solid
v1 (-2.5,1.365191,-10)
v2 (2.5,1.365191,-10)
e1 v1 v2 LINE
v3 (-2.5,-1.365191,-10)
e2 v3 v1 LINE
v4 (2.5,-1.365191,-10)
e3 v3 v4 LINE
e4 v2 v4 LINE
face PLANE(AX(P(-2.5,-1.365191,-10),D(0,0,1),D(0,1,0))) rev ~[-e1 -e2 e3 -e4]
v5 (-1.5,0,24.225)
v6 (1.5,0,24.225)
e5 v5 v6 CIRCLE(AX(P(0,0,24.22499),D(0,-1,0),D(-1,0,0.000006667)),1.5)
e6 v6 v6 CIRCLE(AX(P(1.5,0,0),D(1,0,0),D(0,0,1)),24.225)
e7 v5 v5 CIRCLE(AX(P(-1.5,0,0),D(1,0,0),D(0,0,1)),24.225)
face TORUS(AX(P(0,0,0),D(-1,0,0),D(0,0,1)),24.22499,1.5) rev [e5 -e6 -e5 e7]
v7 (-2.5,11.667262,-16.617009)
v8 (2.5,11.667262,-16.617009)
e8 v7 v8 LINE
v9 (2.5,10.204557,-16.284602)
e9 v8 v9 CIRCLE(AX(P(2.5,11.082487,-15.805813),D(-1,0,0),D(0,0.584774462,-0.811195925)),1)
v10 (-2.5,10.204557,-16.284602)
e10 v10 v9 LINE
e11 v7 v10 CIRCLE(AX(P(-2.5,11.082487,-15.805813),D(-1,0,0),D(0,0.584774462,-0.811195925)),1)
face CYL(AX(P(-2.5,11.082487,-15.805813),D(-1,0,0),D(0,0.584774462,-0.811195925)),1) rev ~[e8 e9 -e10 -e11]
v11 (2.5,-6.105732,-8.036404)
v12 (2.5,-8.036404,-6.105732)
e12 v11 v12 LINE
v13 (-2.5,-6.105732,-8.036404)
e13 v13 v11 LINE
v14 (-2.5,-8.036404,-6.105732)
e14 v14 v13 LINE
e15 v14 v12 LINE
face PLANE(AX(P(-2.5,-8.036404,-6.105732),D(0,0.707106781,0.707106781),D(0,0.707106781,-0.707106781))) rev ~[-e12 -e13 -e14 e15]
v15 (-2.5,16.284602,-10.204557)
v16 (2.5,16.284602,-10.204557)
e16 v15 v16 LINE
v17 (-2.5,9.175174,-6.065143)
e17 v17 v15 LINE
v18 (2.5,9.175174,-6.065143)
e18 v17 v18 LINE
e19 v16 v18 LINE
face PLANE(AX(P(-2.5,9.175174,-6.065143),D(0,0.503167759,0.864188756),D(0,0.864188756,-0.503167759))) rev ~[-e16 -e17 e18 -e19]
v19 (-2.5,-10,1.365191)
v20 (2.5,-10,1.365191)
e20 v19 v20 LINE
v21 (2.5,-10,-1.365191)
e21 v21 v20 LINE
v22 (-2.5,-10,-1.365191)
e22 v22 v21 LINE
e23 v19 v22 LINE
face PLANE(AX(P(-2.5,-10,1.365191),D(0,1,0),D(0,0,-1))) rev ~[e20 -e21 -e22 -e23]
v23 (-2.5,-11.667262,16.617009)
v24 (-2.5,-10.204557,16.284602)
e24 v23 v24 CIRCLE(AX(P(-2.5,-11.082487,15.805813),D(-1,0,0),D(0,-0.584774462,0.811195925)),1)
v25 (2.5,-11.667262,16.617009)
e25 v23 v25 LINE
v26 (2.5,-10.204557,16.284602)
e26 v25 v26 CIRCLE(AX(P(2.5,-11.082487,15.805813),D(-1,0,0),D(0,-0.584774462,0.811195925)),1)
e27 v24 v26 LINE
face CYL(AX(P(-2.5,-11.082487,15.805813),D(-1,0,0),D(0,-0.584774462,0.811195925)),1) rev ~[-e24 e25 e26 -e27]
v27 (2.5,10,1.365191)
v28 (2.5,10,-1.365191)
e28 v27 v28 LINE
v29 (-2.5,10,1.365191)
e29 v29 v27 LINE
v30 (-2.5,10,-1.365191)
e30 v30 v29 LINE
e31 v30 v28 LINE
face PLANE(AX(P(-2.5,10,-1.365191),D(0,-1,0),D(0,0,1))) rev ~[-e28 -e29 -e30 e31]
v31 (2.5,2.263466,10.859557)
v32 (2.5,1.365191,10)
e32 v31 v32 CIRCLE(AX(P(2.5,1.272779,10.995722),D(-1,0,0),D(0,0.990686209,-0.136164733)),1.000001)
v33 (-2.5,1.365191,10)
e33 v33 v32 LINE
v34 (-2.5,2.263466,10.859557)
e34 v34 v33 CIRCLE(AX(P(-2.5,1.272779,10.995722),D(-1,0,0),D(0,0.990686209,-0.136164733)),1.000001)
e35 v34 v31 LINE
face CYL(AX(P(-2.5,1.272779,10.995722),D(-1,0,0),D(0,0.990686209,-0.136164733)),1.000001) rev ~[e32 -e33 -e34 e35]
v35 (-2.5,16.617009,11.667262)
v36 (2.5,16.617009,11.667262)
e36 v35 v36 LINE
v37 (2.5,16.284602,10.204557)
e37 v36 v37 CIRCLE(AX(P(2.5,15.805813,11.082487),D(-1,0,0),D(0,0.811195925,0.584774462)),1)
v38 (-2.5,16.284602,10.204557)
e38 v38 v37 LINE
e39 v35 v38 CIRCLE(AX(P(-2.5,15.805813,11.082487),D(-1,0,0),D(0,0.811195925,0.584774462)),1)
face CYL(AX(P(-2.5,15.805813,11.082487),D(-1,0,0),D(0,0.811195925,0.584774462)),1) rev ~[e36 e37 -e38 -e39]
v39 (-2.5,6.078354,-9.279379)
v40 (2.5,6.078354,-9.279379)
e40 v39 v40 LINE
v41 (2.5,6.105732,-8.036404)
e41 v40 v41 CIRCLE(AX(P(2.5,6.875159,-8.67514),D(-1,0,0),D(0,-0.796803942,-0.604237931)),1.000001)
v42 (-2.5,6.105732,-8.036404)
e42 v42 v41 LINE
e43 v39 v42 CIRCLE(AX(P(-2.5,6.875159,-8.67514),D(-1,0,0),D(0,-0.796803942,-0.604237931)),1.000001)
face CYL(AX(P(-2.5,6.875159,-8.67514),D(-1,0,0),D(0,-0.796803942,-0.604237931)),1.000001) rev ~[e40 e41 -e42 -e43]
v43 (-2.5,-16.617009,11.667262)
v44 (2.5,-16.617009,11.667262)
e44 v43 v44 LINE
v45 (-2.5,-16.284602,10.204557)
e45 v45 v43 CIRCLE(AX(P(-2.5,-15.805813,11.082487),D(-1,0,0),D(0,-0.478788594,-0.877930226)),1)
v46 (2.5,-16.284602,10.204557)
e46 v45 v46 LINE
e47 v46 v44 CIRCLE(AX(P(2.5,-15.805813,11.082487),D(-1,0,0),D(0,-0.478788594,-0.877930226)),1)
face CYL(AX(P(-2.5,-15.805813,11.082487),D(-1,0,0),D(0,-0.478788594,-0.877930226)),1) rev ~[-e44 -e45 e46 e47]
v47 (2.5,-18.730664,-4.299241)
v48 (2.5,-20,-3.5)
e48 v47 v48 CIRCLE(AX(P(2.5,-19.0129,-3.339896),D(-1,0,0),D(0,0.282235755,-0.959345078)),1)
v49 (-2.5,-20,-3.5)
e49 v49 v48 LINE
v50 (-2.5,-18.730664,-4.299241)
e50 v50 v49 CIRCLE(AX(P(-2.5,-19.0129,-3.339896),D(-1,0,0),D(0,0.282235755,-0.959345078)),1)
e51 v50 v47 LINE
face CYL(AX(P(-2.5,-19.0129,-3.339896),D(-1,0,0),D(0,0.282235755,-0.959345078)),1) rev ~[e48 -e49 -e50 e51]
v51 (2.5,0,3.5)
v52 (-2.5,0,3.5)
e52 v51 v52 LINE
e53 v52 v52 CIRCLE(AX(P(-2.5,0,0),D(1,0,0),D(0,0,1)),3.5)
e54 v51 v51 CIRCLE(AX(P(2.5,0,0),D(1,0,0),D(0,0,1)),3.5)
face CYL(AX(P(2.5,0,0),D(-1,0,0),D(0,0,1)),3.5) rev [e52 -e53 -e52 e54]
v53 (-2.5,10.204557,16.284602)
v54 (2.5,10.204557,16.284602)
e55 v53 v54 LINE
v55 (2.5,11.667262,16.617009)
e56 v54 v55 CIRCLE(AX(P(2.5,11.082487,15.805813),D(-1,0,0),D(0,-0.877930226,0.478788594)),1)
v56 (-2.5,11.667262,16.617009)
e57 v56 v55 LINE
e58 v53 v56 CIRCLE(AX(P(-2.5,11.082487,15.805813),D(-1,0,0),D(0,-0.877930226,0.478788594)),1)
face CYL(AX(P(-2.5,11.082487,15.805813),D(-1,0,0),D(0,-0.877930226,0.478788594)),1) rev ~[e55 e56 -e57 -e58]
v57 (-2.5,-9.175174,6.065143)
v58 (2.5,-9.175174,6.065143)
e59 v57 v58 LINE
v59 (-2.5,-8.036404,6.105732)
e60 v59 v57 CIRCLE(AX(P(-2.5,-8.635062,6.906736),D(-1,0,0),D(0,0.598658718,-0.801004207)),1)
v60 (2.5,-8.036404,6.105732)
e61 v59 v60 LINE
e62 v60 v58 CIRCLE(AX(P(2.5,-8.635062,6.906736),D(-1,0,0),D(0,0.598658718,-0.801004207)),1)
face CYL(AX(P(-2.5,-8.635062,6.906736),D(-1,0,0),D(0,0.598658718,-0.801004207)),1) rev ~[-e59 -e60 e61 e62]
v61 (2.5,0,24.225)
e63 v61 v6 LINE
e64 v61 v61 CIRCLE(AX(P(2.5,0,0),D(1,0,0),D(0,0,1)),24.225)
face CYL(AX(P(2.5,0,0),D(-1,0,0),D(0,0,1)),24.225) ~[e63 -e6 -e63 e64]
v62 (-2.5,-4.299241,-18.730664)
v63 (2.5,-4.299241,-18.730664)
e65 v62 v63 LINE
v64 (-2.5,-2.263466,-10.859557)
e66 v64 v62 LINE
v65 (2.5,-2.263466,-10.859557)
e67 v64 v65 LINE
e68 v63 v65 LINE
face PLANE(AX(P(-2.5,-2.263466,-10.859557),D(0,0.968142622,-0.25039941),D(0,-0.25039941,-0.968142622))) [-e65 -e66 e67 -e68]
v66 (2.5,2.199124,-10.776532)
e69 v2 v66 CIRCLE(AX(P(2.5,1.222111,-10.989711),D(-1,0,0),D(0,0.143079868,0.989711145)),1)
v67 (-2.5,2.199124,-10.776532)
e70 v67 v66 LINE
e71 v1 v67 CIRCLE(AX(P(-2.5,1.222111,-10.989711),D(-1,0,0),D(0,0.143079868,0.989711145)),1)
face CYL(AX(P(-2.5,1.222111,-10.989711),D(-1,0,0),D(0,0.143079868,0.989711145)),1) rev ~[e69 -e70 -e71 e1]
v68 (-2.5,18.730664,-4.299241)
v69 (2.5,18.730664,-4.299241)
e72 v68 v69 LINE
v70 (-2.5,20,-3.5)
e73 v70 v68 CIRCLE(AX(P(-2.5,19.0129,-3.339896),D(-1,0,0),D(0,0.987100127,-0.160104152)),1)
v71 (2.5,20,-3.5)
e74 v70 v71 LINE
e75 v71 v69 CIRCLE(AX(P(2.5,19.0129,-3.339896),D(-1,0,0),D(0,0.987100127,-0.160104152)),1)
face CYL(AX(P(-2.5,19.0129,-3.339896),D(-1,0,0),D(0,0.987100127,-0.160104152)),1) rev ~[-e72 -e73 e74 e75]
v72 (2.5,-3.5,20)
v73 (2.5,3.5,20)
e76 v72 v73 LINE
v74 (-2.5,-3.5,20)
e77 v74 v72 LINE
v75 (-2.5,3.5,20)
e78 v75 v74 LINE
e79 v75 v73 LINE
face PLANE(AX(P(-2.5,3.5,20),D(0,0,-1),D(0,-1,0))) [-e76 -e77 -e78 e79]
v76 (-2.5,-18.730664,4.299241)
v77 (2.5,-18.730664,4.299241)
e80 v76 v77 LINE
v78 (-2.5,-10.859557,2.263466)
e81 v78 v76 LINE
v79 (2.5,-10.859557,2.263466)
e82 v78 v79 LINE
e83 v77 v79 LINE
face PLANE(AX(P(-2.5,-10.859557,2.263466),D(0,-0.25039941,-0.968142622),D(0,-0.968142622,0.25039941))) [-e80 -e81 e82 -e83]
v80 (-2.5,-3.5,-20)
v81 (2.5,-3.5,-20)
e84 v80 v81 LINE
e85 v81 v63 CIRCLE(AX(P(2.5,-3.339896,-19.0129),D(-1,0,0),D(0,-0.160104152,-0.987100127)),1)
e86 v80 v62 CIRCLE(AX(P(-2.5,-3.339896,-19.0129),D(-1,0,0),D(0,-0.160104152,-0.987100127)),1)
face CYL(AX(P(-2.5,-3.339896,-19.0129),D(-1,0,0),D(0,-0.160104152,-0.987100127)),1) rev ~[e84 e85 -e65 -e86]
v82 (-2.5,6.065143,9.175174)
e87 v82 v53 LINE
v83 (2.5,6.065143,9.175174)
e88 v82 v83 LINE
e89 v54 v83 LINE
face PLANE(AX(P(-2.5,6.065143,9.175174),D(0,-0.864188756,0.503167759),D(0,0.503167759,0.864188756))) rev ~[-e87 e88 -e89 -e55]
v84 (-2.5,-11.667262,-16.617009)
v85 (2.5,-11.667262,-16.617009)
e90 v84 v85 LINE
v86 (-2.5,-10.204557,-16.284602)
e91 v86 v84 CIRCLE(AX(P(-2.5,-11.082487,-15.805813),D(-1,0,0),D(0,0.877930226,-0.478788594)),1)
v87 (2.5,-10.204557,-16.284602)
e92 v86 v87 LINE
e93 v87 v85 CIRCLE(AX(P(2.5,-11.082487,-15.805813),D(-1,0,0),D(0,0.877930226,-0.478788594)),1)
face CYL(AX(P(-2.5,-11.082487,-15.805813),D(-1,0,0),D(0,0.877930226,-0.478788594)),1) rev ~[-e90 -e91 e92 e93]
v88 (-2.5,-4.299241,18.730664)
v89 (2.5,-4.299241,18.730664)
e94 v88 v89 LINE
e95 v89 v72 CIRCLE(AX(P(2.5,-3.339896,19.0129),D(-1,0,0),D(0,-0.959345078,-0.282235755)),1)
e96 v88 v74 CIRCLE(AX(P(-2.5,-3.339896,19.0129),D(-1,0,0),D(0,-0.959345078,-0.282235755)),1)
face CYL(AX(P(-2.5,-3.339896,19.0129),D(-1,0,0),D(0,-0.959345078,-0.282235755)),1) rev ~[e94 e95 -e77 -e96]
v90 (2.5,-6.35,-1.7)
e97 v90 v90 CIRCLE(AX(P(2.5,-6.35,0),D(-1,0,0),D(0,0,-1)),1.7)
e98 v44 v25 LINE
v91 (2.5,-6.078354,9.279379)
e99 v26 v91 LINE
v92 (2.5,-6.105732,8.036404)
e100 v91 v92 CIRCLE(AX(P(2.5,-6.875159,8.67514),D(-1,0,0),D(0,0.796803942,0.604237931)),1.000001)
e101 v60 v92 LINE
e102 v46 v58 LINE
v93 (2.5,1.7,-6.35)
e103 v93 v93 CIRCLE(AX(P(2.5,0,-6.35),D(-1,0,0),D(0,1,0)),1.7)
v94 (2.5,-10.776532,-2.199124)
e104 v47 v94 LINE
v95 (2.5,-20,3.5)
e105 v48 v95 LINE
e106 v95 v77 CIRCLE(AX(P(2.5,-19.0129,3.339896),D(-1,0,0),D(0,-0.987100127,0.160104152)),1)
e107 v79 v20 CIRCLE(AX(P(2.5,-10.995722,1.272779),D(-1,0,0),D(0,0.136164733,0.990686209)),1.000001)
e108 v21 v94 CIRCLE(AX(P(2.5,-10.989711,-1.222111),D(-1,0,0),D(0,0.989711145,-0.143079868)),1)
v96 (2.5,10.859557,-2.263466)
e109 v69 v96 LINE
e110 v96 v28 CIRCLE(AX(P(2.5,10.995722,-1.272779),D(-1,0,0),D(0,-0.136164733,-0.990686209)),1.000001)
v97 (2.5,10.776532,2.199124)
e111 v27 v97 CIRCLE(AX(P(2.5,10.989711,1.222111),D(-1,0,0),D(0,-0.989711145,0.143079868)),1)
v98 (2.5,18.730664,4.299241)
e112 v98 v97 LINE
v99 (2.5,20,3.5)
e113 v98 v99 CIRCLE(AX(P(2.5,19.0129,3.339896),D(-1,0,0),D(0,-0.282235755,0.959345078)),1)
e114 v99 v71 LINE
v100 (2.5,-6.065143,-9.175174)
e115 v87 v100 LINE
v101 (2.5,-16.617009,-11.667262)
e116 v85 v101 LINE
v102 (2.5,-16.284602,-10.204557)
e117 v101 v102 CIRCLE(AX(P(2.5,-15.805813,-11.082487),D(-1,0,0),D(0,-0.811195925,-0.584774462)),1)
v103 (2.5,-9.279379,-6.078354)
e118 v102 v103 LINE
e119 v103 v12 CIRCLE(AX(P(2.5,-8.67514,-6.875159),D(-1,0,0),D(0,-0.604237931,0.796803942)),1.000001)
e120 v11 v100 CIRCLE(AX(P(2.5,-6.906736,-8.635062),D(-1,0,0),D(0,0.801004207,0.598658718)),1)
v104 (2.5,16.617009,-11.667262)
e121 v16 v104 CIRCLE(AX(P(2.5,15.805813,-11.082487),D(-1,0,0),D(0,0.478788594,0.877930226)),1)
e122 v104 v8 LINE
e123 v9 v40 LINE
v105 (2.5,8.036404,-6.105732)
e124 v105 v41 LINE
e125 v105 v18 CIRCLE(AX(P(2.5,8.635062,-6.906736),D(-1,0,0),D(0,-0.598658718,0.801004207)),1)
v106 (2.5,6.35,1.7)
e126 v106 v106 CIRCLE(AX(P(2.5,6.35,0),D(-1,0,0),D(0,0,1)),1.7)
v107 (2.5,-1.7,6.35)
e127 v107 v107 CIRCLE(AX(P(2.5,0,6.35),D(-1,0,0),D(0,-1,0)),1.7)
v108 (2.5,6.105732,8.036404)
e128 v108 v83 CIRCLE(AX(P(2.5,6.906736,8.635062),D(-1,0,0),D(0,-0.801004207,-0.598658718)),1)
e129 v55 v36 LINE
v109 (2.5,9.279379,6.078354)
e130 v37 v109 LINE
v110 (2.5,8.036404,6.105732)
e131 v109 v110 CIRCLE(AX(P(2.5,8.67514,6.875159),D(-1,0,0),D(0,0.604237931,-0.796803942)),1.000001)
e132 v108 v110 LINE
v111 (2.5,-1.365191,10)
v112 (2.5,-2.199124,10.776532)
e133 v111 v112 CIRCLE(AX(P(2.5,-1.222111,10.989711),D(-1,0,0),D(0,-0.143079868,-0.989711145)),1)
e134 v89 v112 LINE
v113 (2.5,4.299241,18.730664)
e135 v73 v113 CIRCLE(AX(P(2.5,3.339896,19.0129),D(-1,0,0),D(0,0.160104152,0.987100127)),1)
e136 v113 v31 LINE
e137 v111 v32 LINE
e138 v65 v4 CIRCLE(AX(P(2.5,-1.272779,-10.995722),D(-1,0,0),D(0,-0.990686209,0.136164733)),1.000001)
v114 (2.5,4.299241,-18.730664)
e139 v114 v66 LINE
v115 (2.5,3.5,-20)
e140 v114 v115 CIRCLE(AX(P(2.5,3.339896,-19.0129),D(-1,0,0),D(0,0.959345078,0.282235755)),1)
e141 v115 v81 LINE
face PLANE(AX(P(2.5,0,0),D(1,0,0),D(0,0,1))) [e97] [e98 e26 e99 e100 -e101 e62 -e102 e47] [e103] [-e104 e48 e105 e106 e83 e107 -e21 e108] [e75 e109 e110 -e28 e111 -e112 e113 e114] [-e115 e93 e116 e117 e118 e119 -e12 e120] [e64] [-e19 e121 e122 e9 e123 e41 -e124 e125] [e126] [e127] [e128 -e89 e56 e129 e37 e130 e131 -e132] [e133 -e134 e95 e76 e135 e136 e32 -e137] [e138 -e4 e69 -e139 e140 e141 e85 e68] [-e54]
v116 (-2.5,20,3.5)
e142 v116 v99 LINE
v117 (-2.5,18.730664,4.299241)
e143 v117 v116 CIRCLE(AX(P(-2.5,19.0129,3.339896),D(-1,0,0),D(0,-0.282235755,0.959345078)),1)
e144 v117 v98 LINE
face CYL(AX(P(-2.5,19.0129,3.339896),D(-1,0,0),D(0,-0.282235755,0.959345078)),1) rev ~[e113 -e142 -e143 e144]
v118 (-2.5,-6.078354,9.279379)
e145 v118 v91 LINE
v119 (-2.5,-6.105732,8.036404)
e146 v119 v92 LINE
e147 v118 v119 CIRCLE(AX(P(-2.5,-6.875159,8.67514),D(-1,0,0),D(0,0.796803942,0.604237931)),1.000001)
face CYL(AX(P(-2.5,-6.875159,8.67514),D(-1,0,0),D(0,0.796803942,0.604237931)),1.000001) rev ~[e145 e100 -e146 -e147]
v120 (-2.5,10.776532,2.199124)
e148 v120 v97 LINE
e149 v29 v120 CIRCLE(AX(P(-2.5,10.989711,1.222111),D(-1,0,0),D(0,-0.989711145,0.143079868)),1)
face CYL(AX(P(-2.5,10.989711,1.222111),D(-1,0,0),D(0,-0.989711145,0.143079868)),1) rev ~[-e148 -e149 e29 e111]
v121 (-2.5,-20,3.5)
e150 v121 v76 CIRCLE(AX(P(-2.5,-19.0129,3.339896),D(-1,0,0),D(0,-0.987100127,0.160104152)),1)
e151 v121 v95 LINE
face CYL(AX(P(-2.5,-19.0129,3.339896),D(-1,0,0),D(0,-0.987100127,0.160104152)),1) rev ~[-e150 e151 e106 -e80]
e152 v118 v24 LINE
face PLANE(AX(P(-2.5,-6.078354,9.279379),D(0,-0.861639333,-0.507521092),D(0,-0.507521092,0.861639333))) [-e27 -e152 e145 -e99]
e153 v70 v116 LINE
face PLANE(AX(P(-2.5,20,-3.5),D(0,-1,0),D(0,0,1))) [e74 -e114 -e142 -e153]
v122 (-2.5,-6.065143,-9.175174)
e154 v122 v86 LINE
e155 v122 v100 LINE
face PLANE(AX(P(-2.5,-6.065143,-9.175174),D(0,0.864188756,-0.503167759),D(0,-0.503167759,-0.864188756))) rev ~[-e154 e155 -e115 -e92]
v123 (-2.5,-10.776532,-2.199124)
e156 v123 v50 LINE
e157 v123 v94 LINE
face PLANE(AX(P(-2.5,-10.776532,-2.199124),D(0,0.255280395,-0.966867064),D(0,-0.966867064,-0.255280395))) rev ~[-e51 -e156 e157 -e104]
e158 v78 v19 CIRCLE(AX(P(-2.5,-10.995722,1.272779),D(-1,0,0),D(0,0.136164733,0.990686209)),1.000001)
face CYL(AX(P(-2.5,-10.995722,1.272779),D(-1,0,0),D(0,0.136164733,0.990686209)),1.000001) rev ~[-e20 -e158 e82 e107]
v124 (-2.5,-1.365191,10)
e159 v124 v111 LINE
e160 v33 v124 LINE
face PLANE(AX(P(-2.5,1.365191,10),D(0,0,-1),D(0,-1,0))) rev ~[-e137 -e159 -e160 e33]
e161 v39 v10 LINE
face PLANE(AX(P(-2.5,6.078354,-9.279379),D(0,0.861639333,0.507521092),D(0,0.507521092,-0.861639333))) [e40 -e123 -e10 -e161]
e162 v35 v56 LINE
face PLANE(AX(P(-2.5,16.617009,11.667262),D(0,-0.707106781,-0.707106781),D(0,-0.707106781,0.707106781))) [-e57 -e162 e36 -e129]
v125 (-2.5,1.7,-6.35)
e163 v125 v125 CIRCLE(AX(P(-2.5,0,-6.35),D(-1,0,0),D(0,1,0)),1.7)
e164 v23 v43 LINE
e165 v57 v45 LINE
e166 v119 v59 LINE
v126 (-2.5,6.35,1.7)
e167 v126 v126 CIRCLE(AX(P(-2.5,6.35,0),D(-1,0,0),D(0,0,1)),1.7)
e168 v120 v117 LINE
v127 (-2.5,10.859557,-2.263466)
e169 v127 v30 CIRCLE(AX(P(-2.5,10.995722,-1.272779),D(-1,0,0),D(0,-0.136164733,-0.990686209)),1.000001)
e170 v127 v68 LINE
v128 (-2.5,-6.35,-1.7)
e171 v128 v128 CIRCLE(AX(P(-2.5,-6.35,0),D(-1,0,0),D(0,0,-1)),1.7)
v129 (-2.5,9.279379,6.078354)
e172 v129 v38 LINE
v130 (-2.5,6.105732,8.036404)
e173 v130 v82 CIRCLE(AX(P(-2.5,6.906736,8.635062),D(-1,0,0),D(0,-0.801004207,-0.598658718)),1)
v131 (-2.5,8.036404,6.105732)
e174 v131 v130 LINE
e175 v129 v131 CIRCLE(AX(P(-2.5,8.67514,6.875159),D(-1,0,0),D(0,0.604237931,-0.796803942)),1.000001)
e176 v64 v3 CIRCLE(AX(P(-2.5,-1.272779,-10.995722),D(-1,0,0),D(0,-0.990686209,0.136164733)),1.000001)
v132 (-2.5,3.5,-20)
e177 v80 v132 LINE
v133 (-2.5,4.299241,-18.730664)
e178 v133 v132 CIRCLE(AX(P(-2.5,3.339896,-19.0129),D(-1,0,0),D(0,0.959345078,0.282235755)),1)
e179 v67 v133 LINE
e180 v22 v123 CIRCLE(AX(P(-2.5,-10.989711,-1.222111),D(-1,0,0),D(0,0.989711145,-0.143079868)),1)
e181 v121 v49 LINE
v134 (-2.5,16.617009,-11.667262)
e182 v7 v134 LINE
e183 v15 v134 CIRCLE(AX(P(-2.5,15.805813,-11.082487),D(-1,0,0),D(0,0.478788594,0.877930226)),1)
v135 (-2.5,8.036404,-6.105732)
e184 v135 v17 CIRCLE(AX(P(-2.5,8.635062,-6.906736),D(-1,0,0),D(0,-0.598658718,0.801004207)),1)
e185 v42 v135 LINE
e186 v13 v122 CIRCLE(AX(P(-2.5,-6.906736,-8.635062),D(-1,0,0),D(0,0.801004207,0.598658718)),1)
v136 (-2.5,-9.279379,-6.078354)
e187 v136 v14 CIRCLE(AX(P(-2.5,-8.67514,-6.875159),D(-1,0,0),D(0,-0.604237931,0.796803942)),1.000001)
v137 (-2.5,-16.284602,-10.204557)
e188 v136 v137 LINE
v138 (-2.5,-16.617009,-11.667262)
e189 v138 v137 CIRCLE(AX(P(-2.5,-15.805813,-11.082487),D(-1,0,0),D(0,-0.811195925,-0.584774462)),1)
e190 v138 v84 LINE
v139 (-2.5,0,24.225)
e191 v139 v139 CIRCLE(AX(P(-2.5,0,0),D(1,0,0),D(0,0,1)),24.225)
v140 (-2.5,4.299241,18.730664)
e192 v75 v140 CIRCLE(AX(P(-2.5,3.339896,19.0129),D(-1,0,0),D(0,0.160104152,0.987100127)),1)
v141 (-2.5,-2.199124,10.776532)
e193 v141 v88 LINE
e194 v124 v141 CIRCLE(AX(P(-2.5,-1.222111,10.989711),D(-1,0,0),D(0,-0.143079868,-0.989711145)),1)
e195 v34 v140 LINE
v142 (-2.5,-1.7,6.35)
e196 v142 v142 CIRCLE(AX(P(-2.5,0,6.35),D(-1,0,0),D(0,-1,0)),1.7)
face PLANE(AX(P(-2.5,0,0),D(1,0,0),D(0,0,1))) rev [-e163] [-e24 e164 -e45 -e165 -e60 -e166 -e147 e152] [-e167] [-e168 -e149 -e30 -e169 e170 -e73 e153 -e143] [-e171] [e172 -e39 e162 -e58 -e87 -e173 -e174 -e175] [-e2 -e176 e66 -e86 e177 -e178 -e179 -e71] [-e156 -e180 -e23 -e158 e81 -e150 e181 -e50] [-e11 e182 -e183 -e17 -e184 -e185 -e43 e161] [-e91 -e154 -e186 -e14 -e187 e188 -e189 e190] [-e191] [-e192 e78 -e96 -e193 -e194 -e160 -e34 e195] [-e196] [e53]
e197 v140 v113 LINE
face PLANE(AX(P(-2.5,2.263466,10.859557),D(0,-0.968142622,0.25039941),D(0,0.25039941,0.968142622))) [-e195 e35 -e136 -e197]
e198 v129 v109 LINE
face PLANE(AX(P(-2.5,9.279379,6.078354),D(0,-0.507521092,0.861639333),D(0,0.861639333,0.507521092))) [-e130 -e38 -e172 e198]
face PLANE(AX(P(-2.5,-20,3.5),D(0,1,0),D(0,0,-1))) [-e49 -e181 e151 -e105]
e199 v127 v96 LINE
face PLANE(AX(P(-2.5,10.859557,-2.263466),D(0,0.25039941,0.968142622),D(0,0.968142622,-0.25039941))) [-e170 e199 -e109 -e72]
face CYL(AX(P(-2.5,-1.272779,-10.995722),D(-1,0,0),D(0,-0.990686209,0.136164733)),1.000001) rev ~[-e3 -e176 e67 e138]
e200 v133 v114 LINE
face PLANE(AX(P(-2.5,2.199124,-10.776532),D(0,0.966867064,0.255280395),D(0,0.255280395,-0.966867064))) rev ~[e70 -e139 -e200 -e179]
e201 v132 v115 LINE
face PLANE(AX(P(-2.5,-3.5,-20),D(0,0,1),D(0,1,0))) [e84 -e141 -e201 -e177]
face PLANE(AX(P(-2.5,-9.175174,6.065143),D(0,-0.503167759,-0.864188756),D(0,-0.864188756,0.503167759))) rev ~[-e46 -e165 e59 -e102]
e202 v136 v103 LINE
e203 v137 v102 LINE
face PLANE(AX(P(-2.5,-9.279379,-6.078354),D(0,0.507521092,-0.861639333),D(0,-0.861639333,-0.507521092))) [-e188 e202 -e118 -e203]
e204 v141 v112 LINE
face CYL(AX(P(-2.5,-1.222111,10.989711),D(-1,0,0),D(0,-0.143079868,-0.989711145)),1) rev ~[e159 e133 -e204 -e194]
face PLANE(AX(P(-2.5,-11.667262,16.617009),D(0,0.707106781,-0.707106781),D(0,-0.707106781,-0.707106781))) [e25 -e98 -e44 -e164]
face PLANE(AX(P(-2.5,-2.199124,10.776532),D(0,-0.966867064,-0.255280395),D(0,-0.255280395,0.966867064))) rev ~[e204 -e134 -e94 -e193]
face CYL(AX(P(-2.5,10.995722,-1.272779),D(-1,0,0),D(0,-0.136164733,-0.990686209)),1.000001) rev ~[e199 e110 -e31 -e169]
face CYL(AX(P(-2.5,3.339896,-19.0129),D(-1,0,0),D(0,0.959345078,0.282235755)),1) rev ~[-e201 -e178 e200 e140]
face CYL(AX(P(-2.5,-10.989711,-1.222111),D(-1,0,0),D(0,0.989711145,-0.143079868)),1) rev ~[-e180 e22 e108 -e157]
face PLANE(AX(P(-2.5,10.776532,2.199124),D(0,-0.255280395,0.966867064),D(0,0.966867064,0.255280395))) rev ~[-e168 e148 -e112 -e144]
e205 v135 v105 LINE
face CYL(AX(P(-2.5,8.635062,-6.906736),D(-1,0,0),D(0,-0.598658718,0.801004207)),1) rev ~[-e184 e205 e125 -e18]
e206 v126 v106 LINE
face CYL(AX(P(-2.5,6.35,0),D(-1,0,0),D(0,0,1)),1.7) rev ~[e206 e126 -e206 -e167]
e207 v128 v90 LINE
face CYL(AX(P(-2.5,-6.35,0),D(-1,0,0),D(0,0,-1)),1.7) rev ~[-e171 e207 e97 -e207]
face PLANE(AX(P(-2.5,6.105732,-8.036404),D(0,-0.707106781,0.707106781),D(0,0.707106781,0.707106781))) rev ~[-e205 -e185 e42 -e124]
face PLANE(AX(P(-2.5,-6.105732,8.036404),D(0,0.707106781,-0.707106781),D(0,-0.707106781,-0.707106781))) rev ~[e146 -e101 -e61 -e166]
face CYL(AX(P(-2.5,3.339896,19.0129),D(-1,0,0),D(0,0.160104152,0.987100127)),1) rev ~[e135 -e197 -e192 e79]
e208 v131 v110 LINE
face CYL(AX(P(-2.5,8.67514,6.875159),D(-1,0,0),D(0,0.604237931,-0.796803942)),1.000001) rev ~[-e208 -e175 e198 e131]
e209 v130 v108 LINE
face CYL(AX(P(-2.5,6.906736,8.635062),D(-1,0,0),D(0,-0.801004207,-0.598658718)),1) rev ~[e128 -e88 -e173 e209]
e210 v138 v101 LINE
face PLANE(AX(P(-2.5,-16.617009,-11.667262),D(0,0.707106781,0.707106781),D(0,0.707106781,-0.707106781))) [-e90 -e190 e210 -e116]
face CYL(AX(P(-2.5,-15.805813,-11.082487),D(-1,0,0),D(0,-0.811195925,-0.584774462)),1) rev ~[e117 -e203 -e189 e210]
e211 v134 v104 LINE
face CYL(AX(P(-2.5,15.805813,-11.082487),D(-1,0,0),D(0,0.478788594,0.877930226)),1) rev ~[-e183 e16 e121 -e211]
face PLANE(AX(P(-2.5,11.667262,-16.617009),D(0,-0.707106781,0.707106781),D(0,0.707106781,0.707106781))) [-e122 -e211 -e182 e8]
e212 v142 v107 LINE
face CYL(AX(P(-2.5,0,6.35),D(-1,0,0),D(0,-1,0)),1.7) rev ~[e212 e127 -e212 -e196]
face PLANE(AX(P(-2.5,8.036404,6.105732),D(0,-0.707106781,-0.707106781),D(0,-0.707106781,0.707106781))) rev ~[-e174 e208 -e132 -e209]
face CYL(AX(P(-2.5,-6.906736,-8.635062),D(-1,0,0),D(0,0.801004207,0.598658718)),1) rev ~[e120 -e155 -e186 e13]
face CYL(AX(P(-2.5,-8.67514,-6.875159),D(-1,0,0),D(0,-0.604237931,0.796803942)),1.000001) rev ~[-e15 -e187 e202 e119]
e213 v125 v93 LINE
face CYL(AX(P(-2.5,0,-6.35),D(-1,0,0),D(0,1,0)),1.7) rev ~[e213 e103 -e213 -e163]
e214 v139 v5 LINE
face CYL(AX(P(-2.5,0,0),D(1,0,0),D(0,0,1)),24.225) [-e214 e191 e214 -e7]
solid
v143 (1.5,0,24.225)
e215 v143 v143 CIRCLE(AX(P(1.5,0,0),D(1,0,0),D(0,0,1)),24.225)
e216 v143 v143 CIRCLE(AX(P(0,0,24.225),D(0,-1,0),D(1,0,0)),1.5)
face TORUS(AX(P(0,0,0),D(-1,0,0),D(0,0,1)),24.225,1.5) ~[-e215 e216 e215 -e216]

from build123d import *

# Parameters (mm, degrees)
POCKET_DEPTH          = 142.402674
POLARPATTERN_COUNT    = 8
SKETCH003_R           = 1.7
POCKET001_DEPTH       = 142.402674
POLARPATTERN001_COUNT = 4
SKETCH001_R           = 1.5


with BuildPart() as roue:
    # Sketch → Revolution (revolve)
    with BuildSketch(Plane.XZ):
        with BuildLine():
            Line((-2.5, 3.5), (-2.5, 24.225))
            Line((-2.5, 24.225), (-1.5, 24.225))
            ThreePointArc((-1.5, 24.225), (0, 22.72499), (1.5, 24.225))
            Line((2.5, 24.225), (1.5, 24.225))
            Line((2.5, 24.225), (2.5, 3.5))
            Line((2.5, 3.5), (-2.5, 3.5))
        make_face()
    revolve(axis=Axis((0, 0, 0), (1, 0, 0)))

    # Sketch002 (on Face3 of Revolution) → Pocket (cut, through all)
    with BuildSketch(Plane(origin=(-2.5, 0, 0), x_dir=(0, 0, -1), z_dir=(-1, 0, 0))):
        with BuildLine():
            ThreePointArc((-3.5, 20), (-4.18612, 19.545727), (-4.299241, 18.730664))
            Line((-2.263466, 10.859557), (-4.299241, 18.730664))
            ThreePointArc((-2.263466, 10.859557), (-1.964144, 10.273215), (-1.365191, 10))
            Line((-1.365191, 10), (1.365191, 10))
            ThreePointArc((1.365191, 10), (1.903582, 10.257866), (2.199124, 10.776532))
            Line((2.199124, 10.776532), (4.299241, 18.730664))
            ThreePointArc((4.299241, 18.730664), (4.18612, 19.545727), (3.5, 20))
            Line((-3.5, 20), (3.5, 20))
        make_face()
    pocket = extrude(amount=-POCKET_DEPTH, mode=Mode.SUBTRACT)

    # PolarPattern: Pocket ×8 about axis
    polarpattern_axis = Axis((-2.5, 0, 0), (-1, 0, 0))
    for i in range(1, POLARPATTERN_COUNT):
        add(pocket.rotate(polarpattern_axis, i * 360 / POLARPATTERN_COUNT), mode=Mode.SUBTRACT)

    # Sketch003 (on Face69 of PolarPattern) → Pocket001 (cut, through all)
    with BuildSketch(Plane(origin=(-2.5, 0, 0), x_dir=(0, 0, -1), z_dir=(-1, 0, 0))):
        with Locations((0, 6.35)):
            Circle(SKETCH003_R)
    pocket001 = extrude(amount=-POCKET001_DEPTH, mode=Mode.SUBTRACT)

    # PolarPattern001: Pocket001 ×4 about axis
    polarpattern001_axis = Axis((-2.5, 0, 0), (-1, 0, 0))
    for i in range(1, POLARPATTERN001_COUNT):
        add(pocket001.rotate(polarpattern001_axis, i * 360 / POLARPATTERN001_COUNT), mode=Mode.SUBTRACT)


with BuildPart() as joint:
    # Sketch001 → Revolution001 (revolve)
    with BuildSketch(Plane.XZ):
        with Locations((0, 24.225)):
            Circle(SKETCH001_R)
    revolve(axis=Axis((0, 0, 0), (1, 0, 0)))


solid = Compound([roue.part, joint.part])
